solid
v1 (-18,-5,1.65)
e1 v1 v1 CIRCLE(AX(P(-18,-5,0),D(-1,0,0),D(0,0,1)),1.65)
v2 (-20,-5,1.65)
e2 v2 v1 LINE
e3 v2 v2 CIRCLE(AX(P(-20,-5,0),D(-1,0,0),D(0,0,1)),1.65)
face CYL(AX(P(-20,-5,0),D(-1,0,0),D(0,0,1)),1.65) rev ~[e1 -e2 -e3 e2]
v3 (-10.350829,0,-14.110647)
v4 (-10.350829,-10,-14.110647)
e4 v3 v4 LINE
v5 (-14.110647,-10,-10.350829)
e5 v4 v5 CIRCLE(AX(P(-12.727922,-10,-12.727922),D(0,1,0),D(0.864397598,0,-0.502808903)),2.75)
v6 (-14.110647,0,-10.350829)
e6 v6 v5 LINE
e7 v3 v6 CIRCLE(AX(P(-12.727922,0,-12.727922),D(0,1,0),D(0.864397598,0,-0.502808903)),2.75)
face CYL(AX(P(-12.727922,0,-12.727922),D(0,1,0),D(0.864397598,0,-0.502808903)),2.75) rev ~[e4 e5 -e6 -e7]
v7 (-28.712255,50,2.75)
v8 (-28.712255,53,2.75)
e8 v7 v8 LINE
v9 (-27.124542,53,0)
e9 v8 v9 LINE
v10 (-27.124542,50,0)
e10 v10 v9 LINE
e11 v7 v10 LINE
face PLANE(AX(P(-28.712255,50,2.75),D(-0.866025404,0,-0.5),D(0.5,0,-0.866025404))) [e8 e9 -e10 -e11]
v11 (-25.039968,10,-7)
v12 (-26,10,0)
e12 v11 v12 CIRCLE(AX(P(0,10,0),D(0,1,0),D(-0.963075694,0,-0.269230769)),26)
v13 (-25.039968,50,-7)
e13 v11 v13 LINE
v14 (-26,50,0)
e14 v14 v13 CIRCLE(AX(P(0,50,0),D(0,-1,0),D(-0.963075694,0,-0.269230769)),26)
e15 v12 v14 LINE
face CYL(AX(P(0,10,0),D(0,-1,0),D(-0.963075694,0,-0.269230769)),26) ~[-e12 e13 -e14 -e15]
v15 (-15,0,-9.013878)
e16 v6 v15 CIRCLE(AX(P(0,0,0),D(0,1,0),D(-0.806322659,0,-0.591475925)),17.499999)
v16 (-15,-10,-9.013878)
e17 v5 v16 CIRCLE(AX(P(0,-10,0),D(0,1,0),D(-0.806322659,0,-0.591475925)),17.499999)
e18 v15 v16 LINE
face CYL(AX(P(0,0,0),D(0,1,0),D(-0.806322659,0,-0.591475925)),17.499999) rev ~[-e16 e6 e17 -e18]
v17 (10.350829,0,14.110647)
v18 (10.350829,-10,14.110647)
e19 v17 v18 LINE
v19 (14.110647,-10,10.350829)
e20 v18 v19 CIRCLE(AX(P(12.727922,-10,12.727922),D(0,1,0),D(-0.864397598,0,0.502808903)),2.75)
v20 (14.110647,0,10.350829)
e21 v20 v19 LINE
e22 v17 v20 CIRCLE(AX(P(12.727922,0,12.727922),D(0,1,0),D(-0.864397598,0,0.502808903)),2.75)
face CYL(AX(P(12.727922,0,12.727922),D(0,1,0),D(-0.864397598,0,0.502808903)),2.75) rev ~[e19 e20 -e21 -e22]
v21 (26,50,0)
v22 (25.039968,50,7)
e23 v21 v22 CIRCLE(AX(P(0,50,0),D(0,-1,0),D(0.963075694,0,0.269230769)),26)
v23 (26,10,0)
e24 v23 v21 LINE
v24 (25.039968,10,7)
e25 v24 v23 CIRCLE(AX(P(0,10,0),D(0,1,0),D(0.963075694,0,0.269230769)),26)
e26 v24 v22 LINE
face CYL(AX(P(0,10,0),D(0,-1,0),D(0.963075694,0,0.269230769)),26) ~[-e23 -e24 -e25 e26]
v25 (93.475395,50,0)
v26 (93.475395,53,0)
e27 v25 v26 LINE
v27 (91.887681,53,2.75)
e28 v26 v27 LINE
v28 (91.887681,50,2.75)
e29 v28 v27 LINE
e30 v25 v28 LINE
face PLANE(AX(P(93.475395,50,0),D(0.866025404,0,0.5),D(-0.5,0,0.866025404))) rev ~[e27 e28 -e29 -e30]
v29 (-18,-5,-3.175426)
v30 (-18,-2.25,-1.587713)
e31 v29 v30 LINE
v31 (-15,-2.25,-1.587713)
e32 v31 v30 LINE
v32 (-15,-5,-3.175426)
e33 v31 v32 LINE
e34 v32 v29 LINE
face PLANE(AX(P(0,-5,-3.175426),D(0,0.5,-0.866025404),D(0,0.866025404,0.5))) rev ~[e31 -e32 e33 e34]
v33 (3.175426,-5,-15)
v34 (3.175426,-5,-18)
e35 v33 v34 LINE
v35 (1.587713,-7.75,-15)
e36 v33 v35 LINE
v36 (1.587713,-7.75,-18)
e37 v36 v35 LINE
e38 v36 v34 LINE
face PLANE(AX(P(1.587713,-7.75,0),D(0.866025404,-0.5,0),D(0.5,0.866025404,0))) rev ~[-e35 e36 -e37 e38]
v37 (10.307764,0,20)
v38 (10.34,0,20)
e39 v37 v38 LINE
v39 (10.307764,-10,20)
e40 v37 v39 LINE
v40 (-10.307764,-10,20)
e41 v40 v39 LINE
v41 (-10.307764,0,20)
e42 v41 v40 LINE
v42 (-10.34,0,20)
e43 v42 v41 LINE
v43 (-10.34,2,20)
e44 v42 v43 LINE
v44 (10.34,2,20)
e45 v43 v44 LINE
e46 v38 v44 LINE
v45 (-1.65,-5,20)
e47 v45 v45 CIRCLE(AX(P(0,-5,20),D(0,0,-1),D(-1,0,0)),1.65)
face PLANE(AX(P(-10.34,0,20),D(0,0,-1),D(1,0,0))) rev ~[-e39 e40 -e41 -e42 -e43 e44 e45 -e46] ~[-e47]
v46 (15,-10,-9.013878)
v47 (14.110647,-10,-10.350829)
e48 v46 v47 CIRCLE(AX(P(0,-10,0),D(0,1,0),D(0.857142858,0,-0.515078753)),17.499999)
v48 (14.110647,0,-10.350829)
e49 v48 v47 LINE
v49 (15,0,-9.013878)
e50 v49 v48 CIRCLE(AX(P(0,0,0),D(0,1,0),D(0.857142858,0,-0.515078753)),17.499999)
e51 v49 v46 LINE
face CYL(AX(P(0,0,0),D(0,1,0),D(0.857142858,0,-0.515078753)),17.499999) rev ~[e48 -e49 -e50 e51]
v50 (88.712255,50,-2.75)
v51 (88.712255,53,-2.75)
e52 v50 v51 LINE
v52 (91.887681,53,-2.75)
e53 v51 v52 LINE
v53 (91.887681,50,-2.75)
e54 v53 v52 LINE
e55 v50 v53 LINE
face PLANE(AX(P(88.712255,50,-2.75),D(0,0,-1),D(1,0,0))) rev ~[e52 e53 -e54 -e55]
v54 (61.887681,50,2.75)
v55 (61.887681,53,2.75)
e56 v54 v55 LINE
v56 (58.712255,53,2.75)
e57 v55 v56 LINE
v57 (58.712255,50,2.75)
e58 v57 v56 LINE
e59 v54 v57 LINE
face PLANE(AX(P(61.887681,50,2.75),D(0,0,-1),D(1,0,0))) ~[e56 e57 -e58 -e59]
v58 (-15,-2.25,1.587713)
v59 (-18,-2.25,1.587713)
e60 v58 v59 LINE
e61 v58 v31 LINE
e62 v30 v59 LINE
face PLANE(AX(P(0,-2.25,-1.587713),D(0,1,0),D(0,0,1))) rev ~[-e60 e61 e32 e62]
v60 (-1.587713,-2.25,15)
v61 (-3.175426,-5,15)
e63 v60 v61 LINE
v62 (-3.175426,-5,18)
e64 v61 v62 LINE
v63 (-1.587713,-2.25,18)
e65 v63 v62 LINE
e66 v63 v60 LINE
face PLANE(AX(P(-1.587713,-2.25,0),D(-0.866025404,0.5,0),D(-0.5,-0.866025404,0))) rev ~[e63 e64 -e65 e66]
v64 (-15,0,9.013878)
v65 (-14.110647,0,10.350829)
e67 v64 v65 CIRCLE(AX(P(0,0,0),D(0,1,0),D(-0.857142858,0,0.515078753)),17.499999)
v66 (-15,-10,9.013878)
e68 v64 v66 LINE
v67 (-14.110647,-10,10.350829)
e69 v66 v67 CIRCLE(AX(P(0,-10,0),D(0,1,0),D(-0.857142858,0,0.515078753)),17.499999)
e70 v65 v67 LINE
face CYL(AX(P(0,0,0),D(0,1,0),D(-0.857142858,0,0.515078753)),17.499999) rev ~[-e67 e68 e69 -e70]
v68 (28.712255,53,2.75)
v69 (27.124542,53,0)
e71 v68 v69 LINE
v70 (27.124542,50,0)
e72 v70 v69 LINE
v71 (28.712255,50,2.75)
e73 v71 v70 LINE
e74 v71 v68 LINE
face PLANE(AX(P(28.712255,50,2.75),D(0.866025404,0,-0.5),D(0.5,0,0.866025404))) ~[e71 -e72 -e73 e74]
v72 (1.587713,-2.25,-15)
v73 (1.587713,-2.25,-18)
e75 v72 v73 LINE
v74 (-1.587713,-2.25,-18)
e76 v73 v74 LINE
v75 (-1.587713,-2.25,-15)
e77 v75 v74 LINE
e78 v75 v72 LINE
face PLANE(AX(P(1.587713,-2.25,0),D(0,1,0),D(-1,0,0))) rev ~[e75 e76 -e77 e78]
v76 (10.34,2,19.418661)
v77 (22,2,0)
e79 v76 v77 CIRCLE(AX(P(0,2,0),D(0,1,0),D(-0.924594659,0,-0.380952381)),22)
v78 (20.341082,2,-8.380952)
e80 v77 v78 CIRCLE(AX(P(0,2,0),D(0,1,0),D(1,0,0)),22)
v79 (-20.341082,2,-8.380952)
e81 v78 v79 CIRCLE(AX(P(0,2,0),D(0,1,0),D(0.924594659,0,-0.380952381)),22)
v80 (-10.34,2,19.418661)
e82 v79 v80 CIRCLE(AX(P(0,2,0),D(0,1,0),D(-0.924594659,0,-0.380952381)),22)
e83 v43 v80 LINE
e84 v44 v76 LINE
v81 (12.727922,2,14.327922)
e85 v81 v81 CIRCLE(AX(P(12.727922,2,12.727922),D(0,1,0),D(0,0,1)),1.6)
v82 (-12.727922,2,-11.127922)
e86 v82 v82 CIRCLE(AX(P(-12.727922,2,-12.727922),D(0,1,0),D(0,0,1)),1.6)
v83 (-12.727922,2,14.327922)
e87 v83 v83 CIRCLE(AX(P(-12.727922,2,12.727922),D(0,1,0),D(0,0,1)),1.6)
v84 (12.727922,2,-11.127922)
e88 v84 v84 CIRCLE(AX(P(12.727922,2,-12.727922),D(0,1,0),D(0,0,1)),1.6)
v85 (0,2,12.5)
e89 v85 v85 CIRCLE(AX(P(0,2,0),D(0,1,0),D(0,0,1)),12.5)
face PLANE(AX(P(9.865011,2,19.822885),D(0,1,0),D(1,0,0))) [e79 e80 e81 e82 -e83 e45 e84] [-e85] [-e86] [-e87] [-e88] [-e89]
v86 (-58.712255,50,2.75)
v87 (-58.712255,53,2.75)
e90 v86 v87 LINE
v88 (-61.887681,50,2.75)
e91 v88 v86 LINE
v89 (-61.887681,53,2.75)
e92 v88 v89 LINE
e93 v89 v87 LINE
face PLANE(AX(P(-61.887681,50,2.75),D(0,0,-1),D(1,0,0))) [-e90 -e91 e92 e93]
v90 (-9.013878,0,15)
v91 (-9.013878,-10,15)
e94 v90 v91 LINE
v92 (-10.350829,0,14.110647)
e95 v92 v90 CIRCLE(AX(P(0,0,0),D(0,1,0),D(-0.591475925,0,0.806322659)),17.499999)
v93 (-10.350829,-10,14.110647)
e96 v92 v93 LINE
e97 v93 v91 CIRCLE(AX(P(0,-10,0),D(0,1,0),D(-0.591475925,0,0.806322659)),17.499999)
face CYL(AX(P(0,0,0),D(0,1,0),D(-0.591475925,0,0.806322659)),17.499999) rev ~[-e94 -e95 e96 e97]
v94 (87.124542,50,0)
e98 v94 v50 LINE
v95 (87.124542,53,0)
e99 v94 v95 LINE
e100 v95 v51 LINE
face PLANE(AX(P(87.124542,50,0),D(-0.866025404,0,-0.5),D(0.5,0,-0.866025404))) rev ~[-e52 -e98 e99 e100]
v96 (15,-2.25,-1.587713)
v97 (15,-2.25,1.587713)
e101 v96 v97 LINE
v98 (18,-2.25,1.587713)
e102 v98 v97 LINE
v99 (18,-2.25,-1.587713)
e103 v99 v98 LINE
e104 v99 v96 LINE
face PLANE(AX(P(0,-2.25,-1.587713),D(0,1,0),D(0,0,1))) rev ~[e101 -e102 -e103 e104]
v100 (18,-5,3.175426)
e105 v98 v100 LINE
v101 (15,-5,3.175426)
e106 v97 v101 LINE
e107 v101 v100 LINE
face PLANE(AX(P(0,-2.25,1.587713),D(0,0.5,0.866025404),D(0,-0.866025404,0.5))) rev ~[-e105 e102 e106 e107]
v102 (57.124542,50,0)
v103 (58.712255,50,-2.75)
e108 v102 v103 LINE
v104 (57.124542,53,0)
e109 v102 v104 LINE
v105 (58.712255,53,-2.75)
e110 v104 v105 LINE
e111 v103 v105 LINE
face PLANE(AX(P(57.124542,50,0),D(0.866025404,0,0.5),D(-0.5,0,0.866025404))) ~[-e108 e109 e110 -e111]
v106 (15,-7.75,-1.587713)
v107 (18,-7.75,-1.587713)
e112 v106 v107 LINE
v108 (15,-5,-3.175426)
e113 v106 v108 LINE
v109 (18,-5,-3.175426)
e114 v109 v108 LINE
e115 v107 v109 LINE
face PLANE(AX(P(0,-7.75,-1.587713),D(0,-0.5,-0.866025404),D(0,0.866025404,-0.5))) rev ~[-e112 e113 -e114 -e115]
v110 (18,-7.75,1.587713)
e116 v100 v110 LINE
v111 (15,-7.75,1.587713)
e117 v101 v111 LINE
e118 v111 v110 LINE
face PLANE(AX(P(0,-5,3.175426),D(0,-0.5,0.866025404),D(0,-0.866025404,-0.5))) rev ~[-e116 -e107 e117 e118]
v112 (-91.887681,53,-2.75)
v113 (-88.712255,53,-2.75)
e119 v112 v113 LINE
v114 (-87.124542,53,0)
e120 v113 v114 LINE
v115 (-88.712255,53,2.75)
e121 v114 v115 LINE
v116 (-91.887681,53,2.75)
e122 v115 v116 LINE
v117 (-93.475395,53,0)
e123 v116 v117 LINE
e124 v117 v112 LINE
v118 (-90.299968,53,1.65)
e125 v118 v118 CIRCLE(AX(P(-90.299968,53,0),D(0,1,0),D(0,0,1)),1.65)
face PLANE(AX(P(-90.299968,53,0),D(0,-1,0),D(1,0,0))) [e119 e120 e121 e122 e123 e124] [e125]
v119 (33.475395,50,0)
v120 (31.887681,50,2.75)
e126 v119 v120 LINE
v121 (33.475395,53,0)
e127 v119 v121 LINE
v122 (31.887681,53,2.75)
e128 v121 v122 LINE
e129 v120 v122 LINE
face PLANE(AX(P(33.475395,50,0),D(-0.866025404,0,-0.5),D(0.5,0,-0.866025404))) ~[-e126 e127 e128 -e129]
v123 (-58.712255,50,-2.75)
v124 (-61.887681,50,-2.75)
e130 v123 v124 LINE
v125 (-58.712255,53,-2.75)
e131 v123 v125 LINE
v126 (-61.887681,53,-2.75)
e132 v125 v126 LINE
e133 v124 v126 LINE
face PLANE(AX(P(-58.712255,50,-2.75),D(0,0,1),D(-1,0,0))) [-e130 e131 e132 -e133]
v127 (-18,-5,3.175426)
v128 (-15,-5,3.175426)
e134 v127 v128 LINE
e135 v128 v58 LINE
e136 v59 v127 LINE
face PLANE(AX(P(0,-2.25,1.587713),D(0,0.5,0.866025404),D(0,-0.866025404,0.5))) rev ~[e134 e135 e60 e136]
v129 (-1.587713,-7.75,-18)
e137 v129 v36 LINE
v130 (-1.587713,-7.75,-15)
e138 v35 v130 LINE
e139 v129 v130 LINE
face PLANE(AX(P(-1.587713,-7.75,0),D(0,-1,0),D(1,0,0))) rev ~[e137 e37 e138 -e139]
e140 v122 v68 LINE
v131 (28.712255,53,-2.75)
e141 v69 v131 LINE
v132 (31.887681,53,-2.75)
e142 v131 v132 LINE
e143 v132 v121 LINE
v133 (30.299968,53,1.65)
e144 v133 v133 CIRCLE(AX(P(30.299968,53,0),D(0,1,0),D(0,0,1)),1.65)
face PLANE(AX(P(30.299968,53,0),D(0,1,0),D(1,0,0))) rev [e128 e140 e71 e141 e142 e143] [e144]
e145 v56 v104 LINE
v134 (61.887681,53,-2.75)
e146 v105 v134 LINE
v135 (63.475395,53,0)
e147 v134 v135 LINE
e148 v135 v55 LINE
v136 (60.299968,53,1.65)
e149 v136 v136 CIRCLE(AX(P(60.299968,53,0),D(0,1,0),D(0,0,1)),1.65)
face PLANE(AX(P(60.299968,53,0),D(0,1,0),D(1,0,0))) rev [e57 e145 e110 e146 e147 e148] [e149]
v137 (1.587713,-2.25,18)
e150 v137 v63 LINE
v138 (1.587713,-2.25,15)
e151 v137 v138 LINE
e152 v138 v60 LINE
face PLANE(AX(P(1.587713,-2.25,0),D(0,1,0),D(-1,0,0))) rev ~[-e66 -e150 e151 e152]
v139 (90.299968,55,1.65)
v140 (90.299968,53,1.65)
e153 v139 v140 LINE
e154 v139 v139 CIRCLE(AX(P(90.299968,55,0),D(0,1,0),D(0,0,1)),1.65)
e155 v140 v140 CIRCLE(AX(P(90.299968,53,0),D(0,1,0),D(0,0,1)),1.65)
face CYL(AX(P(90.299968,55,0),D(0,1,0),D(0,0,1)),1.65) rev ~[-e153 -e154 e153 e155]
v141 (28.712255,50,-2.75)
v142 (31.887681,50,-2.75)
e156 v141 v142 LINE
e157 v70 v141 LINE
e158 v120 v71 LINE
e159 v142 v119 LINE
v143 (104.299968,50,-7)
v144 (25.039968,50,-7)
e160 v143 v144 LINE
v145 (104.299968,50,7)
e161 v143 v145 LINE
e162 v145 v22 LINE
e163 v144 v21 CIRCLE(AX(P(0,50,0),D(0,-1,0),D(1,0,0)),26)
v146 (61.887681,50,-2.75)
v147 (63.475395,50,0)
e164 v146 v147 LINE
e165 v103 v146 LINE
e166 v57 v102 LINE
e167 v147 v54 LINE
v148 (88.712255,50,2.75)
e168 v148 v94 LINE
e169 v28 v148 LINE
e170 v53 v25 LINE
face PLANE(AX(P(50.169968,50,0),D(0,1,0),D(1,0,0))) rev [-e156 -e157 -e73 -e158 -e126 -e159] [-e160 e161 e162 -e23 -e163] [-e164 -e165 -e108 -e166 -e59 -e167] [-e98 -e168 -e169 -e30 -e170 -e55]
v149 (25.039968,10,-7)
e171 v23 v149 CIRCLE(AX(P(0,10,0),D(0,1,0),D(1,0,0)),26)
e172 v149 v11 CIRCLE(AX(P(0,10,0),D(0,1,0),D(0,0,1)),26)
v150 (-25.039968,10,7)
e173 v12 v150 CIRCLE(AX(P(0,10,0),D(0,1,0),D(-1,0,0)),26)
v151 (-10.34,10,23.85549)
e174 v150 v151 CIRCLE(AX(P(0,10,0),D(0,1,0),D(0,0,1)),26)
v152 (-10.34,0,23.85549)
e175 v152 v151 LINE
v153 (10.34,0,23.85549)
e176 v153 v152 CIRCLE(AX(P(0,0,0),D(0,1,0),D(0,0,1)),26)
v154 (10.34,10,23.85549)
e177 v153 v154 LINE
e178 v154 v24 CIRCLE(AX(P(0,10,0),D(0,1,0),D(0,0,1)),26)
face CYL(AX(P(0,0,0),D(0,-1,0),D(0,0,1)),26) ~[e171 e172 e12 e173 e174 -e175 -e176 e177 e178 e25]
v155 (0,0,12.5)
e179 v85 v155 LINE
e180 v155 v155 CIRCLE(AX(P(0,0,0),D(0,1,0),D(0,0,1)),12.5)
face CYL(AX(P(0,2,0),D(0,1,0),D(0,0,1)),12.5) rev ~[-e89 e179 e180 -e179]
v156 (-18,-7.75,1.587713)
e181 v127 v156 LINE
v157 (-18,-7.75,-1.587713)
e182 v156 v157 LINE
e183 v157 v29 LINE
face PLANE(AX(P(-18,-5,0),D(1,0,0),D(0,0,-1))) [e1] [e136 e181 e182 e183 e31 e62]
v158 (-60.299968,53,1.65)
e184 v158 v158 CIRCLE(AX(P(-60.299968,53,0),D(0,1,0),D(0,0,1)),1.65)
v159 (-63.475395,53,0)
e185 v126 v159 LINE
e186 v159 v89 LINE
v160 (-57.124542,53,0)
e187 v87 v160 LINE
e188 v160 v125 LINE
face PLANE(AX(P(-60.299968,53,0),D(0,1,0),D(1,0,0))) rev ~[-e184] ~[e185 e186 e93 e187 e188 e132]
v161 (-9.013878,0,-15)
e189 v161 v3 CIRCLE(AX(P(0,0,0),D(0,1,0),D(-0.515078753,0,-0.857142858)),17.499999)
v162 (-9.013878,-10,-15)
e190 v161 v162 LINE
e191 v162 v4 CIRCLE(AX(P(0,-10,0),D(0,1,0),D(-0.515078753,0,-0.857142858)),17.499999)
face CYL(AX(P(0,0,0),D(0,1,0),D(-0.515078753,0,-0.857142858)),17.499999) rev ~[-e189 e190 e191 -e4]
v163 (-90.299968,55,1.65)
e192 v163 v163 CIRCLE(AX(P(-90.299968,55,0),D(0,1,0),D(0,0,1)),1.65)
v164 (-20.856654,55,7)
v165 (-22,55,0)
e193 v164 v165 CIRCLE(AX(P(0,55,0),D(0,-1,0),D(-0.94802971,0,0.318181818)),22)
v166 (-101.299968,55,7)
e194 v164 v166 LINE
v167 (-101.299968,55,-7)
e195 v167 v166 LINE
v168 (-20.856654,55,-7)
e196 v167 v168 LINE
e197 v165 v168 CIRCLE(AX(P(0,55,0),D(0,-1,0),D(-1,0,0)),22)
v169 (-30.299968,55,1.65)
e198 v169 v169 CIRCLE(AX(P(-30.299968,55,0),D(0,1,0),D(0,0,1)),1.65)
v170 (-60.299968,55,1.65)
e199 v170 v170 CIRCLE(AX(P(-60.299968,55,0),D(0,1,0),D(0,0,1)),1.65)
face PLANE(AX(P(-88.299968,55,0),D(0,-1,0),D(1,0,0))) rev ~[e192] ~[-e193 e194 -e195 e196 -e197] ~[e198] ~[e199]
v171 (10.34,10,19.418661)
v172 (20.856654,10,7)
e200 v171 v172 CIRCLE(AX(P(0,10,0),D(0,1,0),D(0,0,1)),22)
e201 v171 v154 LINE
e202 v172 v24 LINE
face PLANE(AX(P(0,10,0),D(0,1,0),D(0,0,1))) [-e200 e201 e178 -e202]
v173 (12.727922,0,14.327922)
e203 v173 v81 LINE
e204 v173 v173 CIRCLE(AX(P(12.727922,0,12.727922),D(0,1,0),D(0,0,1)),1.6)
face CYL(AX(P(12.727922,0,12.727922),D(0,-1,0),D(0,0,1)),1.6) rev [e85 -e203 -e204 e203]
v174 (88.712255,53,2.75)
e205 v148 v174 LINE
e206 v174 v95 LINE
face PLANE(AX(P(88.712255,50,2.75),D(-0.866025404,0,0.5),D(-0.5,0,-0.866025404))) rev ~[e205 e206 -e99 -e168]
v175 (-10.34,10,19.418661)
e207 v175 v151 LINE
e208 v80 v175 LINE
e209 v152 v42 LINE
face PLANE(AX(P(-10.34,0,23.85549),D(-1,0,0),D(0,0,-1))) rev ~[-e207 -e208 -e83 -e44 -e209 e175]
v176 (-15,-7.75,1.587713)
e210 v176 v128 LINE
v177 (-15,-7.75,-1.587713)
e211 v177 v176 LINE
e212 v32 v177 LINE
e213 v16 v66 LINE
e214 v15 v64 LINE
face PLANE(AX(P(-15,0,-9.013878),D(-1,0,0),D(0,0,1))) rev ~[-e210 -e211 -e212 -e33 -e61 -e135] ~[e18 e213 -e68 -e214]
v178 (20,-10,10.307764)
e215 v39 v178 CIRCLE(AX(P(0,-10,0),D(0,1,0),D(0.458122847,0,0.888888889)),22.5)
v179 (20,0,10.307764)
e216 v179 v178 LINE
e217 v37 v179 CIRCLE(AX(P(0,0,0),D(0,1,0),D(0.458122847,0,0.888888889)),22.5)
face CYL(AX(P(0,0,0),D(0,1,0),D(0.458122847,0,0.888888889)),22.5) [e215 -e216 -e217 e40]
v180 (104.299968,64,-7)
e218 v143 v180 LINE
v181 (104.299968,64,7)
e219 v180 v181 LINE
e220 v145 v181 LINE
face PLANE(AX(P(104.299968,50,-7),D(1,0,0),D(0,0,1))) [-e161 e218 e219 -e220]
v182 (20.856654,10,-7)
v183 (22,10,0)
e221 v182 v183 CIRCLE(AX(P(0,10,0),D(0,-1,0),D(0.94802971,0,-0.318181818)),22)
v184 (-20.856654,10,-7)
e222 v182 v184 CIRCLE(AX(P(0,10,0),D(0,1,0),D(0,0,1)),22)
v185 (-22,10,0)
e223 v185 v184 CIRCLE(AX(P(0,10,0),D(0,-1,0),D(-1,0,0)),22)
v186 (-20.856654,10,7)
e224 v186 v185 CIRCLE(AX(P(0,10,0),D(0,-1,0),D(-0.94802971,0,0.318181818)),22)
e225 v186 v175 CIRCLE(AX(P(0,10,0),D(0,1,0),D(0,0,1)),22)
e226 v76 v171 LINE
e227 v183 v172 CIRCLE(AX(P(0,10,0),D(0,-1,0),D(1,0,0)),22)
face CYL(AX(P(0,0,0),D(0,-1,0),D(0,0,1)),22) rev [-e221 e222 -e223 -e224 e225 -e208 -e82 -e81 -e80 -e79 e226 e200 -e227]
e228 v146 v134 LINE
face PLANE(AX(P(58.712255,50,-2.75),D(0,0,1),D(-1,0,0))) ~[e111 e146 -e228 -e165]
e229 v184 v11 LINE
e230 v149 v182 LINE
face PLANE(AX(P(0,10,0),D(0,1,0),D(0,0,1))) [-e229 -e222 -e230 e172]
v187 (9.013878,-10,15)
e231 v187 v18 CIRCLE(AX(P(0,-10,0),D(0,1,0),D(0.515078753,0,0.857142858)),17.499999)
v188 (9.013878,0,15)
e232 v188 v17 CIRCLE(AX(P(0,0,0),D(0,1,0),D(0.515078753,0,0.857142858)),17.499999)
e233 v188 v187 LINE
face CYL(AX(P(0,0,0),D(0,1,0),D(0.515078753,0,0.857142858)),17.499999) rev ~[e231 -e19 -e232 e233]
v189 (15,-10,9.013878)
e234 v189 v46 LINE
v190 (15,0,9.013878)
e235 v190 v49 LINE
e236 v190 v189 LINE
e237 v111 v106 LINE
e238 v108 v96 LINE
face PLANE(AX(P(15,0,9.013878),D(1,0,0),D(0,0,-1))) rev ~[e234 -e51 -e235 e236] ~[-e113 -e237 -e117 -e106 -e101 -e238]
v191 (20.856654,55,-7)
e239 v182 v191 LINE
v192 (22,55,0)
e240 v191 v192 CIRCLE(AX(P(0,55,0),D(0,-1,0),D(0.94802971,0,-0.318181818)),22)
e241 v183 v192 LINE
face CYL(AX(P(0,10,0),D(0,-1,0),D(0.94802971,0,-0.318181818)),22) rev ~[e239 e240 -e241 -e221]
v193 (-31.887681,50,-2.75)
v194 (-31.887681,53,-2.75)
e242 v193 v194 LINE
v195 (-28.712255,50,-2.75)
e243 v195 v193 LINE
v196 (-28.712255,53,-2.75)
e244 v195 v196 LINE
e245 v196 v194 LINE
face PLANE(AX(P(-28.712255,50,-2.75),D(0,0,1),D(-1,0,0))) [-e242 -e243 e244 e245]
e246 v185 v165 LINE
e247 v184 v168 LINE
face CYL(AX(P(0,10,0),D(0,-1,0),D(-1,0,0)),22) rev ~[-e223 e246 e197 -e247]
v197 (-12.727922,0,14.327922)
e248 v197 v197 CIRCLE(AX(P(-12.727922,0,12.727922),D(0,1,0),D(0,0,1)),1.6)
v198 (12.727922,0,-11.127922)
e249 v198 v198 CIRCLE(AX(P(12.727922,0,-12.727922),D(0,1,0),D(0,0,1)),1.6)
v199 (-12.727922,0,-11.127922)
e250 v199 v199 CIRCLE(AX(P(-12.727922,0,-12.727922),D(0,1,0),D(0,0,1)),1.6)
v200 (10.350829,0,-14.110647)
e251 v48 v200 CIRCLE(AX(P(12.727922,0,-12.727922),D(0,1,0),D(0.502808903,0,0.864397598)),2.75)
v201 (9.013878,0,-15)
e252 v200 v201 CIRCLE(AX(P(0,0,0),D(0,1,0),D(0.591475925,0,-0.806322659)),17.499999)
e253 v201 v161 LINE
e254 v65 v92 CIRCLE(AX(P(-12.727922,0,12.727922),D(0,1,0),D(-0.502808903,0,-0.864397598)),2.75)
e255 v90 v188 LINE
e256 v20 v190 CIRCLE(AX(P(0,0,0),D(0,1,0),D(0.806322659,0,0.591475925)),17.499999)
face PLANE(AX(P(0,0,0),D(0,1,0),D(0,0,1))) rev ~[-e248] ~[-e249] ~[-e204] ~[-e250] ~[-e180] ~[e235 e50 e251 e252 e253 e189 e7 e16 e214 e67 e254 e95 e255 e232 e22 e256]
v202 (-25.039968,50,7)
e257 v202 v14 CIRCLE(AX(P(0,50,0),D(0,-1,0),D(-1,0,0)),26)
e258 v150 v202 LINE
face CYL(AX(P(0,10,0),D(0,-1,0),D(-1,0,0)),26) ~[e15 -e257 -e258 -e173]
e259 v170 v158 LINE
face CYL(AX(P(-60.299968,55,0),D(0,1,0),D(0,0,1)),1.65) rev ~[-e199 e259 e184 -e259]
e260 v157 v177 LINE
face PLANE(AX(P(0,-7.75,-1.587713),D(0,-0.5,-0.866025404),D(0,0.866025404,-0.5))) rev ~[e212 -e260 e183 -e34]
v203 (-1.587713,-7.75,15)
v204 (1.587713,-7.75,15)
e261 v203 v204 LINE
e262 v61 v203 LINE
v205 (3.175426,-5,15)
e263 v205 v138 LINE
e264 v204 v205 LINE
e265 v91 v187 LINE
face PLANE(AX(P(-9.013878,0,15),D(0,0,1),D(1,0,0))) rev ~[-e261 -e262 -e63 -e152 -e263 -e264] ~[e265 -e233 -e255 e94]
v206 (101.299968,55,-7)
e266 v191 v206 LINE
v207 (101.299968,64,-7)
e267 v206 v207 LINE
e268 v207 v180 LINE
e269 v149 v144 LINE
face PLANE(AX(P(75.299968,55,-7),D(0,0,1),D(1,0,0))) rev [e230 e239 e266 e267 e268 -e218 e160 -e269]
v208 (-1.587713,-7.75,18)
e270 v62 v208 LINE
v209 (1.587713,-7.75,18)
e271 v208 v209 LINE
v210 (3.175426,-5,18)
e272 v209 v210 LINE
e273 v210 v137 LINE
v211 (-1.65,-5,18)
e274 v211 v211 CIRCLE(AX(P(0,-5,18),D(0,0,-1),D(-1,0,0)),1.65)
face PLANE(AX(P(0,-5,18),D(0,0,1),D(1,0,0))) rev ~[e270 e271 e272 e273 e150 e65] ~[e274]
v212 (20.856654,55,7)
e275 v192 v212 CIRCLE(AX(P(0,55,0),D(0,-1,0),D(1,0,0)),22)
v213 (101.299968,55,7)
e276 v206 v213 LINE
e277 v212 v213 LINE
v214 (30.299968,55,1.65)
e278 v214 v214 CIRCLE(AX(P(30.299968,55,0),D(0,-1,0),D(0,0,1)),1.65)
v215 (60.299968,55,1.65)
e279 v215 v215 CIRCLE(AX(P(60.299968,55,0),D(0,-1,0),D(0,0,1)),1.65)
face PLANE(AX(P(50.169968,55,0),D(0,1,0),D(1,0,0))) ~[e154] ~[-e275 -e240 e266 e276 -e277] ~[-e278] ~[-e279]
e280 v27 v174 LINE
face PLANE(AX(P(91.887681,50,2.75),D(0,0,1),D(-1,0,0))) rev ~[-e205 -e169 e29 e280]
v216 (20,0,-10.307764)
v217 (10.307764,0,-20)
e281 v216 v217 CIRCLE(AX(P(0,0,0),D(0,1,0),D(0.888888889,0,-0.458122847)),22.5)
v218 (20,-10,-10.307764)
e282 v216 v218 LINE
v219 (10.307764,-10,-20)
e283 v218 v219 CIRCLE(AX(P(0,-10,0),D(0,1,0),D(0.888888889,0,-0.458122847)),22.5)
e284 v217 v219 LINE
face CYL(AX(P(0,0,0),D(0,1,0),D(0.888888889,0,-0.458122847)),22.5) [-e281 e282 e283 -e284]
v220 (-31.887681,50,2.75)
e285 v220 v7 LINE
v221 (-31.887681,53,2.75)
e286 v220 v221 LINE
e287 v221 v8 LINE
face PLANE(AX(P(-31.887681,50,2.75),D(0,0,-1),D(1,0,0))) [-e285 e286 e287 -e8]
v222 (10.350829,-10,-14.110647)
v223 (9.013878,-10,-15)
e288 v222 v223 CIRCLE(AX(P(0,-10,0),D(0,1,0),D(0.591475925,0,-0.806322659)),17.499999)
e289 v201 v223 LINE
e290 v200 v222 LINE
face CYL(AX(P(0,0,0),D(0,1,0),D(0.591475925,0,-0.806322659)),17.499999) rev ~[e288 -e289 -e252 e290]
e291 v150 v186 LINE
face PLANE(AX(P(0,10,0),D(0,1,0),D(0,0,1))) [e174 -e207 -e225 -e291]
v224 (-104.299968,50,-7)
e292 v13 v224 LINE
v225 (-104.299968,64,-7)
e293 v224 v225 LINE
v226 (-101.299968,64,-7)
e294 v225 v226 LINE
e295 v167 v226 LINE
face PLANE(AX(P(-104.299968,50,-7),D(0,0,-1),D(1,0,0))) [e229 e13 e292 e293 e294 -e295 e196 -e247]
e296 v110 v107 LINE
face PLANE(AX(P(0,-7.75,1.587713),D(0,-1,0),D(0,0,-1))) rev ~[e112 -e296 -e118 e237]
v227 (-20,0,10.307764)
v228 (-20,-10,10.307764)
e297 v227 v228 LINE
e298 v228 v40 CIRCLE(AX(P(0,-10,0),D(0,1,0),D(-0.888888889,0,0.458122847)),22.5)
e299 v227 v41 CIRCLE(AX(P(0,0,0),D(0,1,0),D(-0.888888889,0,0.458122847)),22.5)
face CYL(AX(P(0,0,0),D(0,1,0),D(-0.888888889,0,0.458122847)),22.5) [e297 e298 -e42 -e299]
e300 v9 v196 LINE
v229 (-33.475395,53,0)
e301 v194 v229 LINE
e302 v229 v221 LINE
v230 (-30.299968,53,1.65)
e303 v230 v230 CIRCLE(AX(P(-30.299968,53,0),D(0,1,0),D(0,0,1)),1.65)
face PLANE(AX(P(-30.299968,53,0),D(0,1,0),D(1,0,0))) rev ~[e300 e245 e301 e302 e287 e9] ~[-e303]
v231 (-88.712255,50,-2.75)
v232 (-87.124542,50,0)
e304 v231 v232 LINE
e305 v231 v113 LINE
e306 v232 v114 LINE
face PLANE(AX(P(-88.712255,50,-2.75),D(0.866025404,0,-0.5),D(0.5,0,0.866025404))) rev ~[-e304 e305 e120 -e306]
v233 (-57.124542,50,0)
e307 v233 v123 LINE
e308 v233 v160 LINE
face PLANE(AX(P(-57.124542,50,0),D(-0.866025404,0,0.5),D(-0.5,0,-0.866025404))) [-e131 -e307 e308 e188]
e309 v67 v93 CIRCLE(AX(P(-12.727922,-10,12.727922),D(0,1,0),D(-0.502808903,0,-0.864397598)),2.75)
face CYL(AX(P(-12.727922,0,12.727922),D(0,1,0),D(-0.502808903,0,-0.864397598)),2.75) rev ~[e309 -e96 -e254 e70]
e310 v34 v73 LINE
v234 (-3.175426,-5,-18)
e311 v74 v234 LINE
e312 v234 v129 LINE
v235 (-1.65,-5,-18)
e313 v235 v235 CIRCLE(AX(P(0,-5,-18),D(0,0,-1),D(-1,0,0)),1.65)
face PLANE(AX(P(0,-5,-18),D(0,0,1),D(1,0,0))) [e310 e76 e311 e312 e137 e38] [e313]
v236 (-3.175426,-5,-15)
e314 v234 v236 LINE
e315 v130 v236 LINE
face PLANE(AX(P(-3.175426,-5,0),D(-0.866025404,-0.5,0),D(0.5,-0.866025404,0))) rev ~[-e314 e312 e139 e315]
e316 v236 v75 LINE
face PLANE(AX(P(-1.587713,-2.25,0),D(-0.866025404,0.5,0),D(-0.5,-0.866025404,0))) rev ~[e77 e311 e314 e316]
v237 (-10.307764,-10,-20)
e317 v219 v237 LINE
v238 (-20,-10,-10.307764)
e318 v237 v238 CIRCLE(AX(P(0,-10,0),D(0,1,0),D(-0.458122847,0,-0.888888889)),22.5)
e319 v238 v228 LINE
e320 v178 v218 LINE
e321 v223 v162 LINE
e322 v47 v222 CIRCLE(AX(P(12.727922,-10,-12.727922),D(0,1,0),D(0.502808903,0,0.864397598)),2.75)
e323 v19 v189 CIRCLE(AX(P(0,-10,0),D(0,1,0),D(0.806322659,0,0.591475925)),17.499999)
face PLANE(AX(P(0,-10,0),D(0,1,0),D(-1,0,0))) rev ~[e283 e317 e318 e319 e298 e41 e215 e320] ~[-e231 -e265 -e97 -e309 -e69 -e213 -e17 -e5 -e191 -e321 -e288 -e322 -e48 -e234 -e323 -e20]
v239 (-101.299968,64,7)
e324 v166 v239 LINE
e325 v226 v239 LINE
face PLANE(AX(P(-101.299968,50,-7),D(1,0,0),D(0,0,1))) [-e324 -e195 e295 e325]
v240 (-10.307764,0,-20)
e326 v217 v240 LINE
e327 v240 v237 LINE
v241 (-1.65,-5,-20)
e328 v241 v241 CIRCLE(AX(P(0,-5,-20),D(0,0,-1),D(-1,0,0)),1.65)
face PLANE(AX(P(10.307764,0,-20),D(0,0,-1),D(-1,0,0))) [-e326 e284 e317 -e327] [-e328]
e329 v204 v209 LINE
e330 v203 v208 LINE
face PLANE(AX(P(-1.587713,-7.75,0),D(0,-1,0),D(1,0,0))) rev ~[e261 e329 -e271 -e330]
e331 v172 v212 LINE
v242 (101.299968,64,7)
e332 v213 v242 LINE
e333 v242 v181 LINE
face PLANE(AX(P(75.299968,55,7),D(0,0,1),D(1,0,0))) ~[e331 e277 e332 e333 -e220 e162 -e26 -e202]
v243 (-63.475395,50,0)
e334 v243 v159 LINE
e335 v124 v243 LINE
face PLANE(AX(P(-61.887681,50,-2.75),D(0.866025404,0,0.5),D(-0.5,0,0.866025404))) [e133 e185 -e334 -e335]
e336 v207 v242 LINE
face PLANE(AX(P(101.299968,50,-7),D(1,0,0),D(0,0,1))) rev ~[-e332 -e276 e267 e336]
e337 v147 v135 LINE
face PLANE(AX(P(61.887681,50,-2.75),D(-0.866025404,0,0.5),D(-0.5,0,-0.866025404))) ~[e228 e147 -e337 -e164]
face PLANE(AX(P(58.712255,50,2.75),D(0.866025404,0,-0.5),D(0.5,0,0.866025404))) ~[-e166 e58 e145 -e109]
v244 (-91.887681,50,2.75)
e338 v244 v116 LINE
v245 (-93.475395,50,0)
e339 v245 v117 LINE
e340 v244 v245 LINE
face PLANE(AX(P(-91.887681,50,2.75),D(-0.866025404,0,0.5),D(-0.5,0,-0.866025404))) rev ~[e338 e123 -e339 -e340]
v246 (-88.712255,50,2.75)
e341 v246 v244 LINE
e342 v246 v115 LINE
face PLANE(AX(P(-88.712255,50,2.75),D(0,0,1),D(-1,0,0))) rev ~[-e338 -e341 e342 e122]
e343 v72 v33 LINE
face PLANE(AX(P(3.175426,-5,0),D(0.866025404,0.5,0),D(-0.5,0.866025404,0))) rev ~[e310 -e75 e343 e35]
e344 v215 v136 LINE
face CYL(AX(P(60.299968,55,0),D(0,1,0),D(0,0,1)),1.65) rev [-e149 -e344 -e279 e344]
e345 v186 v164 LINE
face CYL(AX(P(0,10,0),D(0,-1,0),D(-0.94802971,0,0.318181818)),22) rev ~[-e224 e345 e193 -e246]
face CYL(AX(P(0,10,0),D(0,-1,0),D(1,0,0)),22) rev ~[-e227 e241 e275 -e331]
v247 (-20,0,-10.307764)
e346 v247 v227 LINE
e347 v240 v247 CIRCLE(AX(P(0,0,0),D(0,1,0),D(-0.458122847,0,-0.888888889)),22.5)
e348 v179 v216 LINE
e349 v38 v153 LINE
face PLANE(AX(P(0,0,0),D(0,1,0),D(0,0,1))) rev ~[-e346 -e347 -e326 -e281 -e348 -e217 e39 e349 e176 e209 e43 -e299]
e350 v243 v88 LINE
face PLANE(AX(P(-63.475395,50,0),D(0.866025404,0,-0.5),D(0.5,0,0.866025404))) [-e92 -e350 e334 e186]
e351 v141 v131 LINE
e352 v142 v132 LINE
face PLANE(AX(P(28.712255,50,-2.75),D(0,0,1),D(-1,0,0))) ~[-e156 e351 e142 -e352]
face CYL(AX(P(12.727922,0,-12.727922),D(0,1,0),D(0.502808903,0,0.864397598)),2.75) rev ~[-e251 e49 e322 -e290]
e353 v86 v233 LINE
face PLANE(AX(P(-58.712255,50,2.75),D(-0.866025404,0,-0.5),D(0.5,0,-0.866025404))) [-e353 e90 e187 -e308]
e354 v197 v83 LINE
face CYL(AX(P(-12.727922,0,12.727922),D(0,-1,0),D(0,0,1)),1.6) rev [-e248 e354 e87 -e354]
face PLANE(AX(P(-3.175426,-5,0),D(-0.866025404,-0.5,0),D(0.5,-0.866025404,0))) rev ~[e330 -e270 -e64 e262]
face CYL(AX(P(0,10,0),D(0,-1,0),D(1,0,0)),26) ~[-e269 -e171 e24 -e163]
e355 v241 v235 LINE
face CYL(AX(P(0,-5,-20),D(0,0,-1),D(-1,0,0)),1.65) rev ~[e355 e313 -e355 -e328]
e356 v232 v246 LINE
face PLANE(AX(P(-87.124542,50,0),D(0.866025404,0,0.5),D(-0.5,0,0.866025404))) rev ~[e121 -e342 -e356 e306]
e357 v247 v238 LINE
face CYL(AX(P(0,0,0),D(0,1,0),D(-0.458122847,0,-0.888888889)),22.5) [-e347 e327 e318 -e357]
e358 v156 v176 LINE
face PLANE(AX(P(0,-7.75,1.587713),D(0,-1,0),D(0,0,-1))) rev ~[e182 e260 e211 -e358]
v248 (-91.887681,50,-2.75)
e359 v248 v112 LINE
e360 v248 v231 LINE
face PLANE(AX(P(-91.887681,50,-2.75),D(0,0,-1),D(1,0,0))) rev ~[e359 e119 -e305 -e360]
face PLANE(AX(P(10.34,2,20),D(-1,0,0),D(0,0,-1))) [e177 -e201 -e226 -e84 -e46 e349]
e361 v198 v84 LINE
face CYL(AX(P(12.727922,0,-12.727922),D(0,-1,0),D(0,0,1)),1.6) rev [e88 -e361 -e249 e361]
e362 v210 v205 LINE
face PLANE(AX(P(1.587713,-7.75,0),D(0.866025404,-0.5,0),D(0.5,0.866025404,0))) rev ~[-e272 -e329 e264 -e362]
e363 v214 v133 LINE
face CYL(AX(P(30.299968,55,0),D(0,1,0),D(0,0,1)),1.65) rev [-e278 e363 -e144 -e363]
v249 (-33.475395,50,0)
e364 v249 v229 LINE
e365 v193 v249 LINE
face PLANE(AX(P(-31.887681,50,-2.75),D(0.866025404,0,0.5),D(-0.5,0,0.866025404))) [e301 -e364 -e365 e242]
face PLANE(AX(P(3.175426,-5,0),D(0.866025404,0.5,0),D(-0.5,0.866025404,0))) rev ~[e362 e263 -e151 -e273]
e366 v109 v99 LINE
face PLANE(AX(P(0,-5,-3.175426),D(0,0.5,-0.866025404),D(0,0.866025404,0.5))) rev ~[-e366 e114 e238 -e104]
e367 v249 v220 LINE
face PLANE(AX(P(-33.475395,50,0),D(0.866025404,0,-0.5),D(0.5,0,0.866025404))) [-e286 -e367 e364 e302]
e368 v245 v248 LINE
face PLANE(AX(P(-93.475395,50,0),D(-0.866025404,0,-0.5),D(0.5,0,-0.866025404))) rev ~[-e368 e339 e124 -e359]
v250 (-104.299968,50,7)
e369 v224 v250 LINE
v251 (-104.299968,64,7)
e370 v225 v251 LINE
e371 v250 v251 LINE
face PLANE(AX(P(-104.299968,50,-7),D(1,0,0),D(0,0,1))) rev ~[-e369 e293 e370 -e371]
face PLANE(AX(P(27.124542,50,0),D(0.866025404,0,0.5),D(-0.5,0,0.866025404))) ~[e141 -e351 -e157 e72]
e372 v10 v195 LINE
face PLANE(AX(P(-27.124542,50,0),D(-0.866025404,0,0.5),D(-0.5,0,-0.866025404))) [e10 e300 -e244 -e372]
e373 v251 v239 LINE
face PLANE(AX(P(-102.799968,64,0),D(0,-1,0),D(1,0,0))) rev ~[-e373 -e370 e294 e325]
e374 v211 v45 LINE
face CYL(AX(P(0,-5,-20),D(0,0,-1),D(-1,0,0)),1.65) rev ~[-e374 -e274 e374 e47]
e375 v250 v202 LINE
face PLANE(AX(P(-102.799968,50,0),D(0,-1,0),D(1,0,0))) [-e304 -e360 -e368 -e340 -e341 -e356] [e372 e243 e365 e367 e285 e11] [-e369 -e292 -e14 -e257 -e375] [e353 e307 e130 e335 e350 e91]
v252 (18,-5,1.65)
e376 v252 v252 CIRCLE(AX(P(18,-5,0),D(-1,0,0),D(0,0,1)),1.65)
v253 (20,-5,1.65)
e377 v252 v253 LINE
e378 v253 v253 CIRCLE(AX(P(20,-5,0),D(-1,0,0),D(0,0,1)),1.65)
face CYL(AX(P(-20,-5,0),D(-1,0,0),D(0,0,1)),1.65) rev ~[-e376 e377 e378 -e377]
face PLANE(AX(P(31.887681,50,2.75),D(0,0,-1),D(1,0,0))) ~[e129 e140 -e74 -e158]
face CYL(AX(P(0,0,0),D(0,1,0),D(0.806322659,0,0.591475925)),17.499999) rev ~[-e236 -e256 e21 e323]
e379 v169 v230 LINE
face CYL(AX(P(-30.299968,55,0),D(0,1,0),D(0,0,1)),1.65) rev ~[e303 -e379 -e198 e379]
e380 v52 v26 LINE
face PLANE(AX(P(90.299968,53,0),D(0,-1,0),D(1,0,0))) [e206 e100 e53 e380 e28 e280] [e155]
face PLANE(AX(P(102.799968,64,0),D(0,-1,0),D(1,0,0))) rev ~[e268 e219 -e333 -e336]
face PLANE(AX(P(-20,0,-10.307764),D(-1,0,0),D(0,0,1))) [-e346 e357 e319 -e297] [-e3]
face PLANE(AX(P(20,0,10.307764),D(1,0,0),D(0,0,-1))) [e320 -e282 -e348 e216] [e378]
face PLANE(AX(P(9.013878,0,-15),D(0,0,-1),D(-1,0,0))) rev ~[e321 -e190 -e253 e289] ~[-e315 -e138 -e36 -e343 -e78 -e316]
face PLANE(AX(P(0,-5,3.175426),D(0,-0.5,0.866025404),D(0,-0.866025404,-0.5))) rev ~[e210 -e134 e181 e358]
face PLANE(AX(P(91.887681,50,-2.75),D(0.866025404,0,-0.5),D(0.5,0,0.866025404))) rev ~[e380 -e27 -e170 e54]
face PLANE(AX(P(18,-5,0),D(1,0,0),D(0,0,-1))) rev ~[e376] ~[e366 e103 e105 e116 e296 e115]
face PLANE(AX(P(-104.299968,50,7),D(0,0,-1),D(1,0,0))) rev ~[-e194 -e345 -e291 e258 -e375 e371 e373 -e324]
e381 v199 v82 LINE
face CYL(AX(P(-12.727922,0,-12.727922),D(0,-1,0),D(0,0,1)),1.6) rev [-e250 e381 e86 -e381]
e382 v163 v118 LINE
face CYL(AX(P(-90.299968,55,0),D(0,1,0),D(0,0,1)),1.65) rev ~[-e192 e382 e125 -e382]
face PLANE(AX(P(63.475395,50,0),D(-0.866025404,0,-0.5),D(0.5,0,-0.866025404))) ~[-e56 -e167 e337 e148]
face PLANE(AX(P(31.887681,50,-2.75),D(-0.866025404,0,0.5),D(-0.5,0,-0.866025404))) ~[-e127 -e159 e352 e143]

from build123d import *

# Parameters (mm, degrees)
SKETCH_1_R           = 1.6
EXTRUDE_1_DEPTH      = 2
SKETCH_2_R           = 12.5
CUT_EXTRUDE_1_DEPTH  = 3
SKETCH_5_R           = 26
SKETCH_5_R_2         = 22
EXTRUDE_3_DEPTH      = 10
EXTRUDE_5_DEPTH      = 10
SKETCH_15_R          = 1.65
CUT_EXTRUDE_2_DEPTH  = 42
SKETCH_16_R          = 1.65
CUT_EXTRUDE_3_DEPTH  = 42
CUT_EXTRUDE_4_DEPTH  = 18
CUT_EXTRUDE_5_DEPTH  = 18
EXTRUDE_6_DEPTH      = 45
SKETCH_24_W          = 50.26
SKETCH_24_H          = 14
EXTRUDE_7_DEPTH      = 5
SKETCH_25_R          = 1.65
CUT_EXTRUDE_6_DEPTH  = 5
CUT_EXTRUDE_7_DEPTH  = 3
CUT_EXTRUDE_9_DEPTH  = 10
CUT_EXTRUDE_START    = -8
CUT_EXTRUDE_10_DEPTH = 8
SKETCH_34_W          = 26
SKETCH_34_H          = 14
EXTRUDE_9_DEPTH      = 5
SKETCH_35_R          = 1.65
CUT_EXTRUDE_11_DEPTH = 5
CUT_EXTRUDE_12_DEPTH = 3
SKETCH_37_W          = 3
SKETCH_37_H          = 14
EXTRUDE_10_DEPTH     = 14


with BuildPart() as part:
    # 草图1 → 凸台-拉伸1 (new body)
    with BuildSketch(Plane(origin=(0, 0, 0), x_dir=(1, 0, 0), z_dir=(0, 1, 0))):
        with BuildLine():
            ThreePointArc((20.341082498, 8.380952381), (0, 22), (-20.341082498, 8.380952381))
            ThreePointArc((-20.341082498, 8.380952381), (-4.271778613, -21.581286048), (22, 0))
            ThreePointArc((22, 0), (21.581286048, 4.271778613), (20.341082498, 8.380952381))
        make_face()
        with Locations(Location((-12.727922061, -12.727922061, 0), (0, 0, 270))):
            Circle(SKETCH_1_R, mode=Mode.SUBTRACT)
        with Locations(Location((12.727922061, -12.727922061, 0), (0, 0, 270))):
            Circle(SKETCH_1_R, mode=Mode.SUBTRACT)
        with Locations(Location((-12.727922061, 12.727922061, 0), (0, 0, 270))):
            Circle(SKETCH_1_R, mode=Mode.SUBTRACT)
        with Locations(Location((12.727922061, 12.727922061, 0), (0, 0, 270))):
            Circle(SKETCH_1_R, mode=Mode.SUBTRACT)
    extrude(amount=EXTRUDE_1_DEPTH)

    # 草图2 → 切除-拉伸1 (cut)
    with BuildSketch(Plane(origin=(0, 2, 0), x_dir=(1, 0, 0), z_dir=(0, 1, 0))):
        with Locations(Location((0, 0, 0), (0, 0, 270))):
            Circle(SKETCH_2_R)
    extrude(amount=-CUT_EXTRUDE_1_DEPTH, mode=Mode.SUBTRACT)

    # 草图5 → 凸台-拉伸3 (add)
    with BuildSketch(Plane(origin=(0, 0, 0), x_dir=(1, 0, 0), z_dir=(0, 1, 0))):
        with Locations(Location((0, 0, 0), (0, 0, 270))):
            Circle(SKETCH_5_R)
        with Locations(Location((0, 0, 0), (0, 0, 270))):
            Circle(SKETCH_5_R_2, mode=Mode.SUBTRACT)
    extrude(amount=EXTRUDE_3_DEPTH)

    # 草图14 → 凸台-拉伸5 (add)
    with BuildSketch(Plane.XZ):
        with BuildLine():
            Line((-10.307764064, 20), (10.307764064, 20))
            ThreePointArc((10.307764064, 20), (15.909902577, 15.909902577), (20, 10.307764064))
            Line((20, 10.307764064), (20, -10.307764064))
            ThreePointArc((20, -10.307764064), (15.909902577, -15.909902577), (10.307764064, -20))
            Line((10.307764064, -20), (-10.307764064, -20))
            ThreePointArc((-10.307764064, -20), (-15.909902577, -15.909902577), (-20, -10.307764064))
            Line((-20, -10.307764064), (-20, 10.307764064))
            ThreePointArc((-20, 10.307764064), (-15.909902577, 15.909902577), (-10.307764064, 20))
        make_face()
        with BuildLine():
            Line((-9.013878189, 15), (9.013878189, 15))
            ThreePointArc((9.013878189, 15), (9.692559275, 14.570665555), (10.350828667, 14.110646544))
            ThreePointArc((10.350828667, 14.110646544), (14.67246571, 14.67246571), (14.110646544, 10.350828667))
            ThreePointArc((14.110646544, 10.350828667), (14.570665555, 9.692559275), (15, 9.013878189))
            Line((15, 9.013878189), (15, -9.013878189))
            ThreePointArc((15, -9.013878189), (14.570665555, -9.692559275), (14.110646544, -10.350828667))
            ThreePointArc((14.110646544, -10.350828667), (14.67246571, -14.67246571), (10.350828667, -14.110646544))
            ThreePointArc((10.350828667, -14.110646544), (9.692559275, -14.570665555), (9.013878189, -15))
            Line((9.013878189, -15), (-9.013878189, -15))
            ThreePointArc((-9.013878189, -15), (-9.692559275, -14.570665555), (-10.350828667, -14.110646544))
            ThreePointArc((-10.350828667, -14.110646544), (-14.67246571, -14.67246571), (-14.110646544, -10.350828667))
            ThreePointArc((-14.110646544, -10.350828667), (-14.570665555, -9.692559275), (-15, -9.013878189))
            Line((-15, -9.013878189), (-15, 9.013878189))
            ThreePointArc((-15, 9.013878189), (-14.570665555, 9.692559275), (-14.110646544, 10.350828667))
            ThreePointArc((-14.110646544, 10.350828667), (-14.67246571, 14.67246571), (-10.350828667, 14.110646544))
            ThreePointArc((-10.350828667, 14.110646544), (-9.692559275, 14.570665555), (-9.013878189, 15))
        make_face(mode=Mode.SUBTRACT)
    extrude(amount=EXTRUDE_5_DEPTH)

    # 草图15 → 切除-拉伸2 (cut)
    with BuildSketch(Plane.ZY.offset(20)):
        with Locations((0, -5)):
            Circle(SKETCH_15_R)
    extrude(amount=-CUT_EXTRUDE_2_DEPTH, mode=Mode.SUBTRACT)

    # 草图16 → 切除-拉伸3 (cut)
    with BuildSketch(Plane(origin=(0, 0, -20), x_dir=(-1, 0, 0), z_dir=(0, 0, -1))):
        with Locations((0, -5)):
            Circle(SKETCH_16_R)
    extrude(amount=-CUT_EXTRUDE_3_DEPTH, mode=Mode.SUBTRACT)

    # 草图18 → 切除-拉伸4 (cut, symmetric)
    with BuildSketch(Plane.XY):
        Polygon((-1.58771324, -2.25), (-3.175426481, -5), (-1.58771324, -7.75), (1.58771324, -7.75), (3.175426481, -5), (1.58771324, -2.25), align=None)
    extrude(amount=CUT_EXTRUDE_4_DEPTH, both=True, mode=Mode.SUBTRACT)

    # 草图19 → 切除-拉伸5 (cut, symmetric)
    with BuildSketch(Plane(origin=(0, 0, 0), x_dir=(0, 0, -1), z_dir=(1, 0, 0))):
        Polygon((-1.58771324, -2.25), (-3.175426481, -5), (-1.58771324, -7.75), (1.58771324, -7.75), (3.175426481, -5), (1.58771324, -2.25), align=None)
    extrude(amount=CUT_EXTRUDE_5_DEPTH, both=True, mode=Mode.SUBTRACT)

    # 草图23 → 凸台-拉伸6 (add)
    with BuildSketch(Plane(origin=(0, 10, 0), x_dir=(1, 0, 0), z_dir=(0, 1, 0))):
        with BuildLine():
            ThreePointArc((-22, 0), (-21.712282003, 3.546379878), (-20.856653615, 7))
            Line((-20.856653615, 7), (-25.039968051, 7))
            ThreePointArc((-25.039968051, 7), (-25.758873901, 3.53276313), (-26, 0))
            Line((-26, 0), (-22, 0))
        make_face()
        with BuildLine():
            ThreePointArc((-20.856653615, -7), (-21.712282003, -3.546379878), (-22, 0))
            Line((-22, 0), (-26, 0))
            ThreePointArc((-26, 0), (-25.758873901, -3.53276313), (-25.039968051, -7))
            Line((-25.039968051, -7), (-20.856653615, -7))
        make_face()
        with BuildLine():
            Line((25.039968051, 7), (20.856653615, 7))
            ThreePointArc((20.856653615, 7), (21.712282003, 3.546379878), (22, 0))
            Line((22, 0), (26, 0))
            ThreePointArc((26, 0), (25.758873901, 3.53276313), (25.039968051, 7))
        make_face()
        with BuildLine():
            Line((26, 0), (22, 0))
            ThreePointArc((22, 0), (21.712282003, -3.546379878), (20.856653615, -7))
            Line((20.856653615, -7), (25.039968051, -7))
            ThreePointArc((25.039968051, -7), (25.758873901, -3.53276313), (26, 0))
        make_face()
    extrude(amount=EXTRUDE_6_DEPTH)

    # 草图24 → 凸台-拉伸7 (add)
    with BuildSketch(Plane(origin=(0, 55, 0), x_dir=(1, 0, 0), z_dir=(0, 1, 0))):
        with Locations((-50.169968051, 0)):
            Rectangle(SKETCH_24_W, SKETCH_24_H)
    extrude_7 = extrude(amount=-EXTRUDE_7_DEPTH)

    # 镜向1: 凸台-拉伸7 across plane
    add(extrude_7.mirror(Plane(origin=(0, 0, 0), x_dir=(0, 0, 1), z_dir=(1, 0, 0))))

    # 草图25 → 切除-拉伸6 (cut)
    with BuildSketch(Plane(origin=(0, 55, 0), x_dir=(1, 0, 0), z_dir=(0, 1, 0))):
        with Locations(Location((-60.299968051, 0, 0), (0, 0, 270))):
            Circle(SKETCH_25_R)
        with Locations(Location((-30.299968051, 0, 0), (0, 0, 270))):
            Circle(SKETCH_25_R)
    cut_extrude_6 = extrude(amount=-CUT_EXTRUDE_6_DEPTH, mode=Mode.SUBTRACT)

    # 草图26 → 切除-拉伸7 (cut)
    with BuildSketch(Plane(origin=(0, 50, 0), x_dir=(1, 0, 0), z_dir=(0, 1, 0))):
        Polygon((-58.712254811, 2.75), (-61.887681291, 2.75), (-63.475394532, 0), (-61.887681291, -2.75), (-58.712254811, -2.75), (-57.124541571, 0), align=None)
        Polygon((-31.887681291, 2.75), (-33.475394532, 0), (-31.887681291, -2.75), (-28.712254811, -2.75), (-27.124541571, 0), (-28.712254811, 2.75), align=None)
    cut_extrude_7 = extrude(amount=CUT_EXTRUDE_7_DEPTH, mode=Mode.SUBTRACT)

    # 镜向3: 切除-拉伸6, 切除-拉伸7 across plane
    add(cut_extrude_6.mirror(Plane(origin=(0, 0, 0), x_dir=(0, 0, 1), z_dir=(1, 0, 0))), mode=Mode.SUBTRACT)
    add(cut_extrude_7.mirror(Plane(origin=(0, 0, 0), x_dir=(0, 0, 1), z_dir=(1, 0, 0))), mode=Mode.SUBTRACT)

    # 草图28 → 切除-拉伸9 (cut)
    with BuildSketch(Plane.XZ):
        with BuildLine():
            Line((-10.34, 20), (10.34, 20))
            Line((10.34, 20), (10.34, 23.855489934))
            ThreePointArc((10.34, 23.855489934), (0, 26), (-10.34, 23.855489934))
            Line((-10.34, 23.855489934), (-10.34, 20))
        make_face()
    extrude(amount=-CUT_EXTRUDE_9_DEPTH, mode=Mode.SUBTRACT)

    # 草图29 → 切除-拉伸10 (cut)
    with BuildSketch(Plane(origin=(0, 10, 0), x_dir=(1, 0, 0), z_dir=(0, 1, 0)).offset(CUT_EXTRUDE_START)):
        with BuildLine():
            Line((-10.34, -20), (-10.34, -19.418661128))
            ThreePointArc((-10.34, -19.418661128), (-9.756906344, -19.718082528), (-9.16515139, -20))
            Line((-9.16515139, -20), (-10.34, -20))
        make_face()
        with BuildLine():
            Line((10.34, -20), (10.34, -19.418661128))
            ThreePointArc((10.34, -19.418661128), (9.756906344, -19.718082528), (9.16515139, -20))
            Line((9.16515139, -20), (10.34, -20))
        make_face()
    extrude(amount=CUT_EXTRUDE_10_DEPTH, mode=Mode.SUBTRACT)

    # 草图34 → 凸台-拉伸9 (add)
    with BuildSketch(Plane.XZ.offset(-50)):
        with Locations((-88.299968051, 0)):
            Rectangle(SKETCH_34_W, SKETCH_34_H)
        with Locations((88.299968051, 0)):
            Rectangle(SKETCH_34_W, SKETCH_34_H)
    extrude(amount=-EXTRUDE_9_DEPTH)

    # 草图35 → 切除-拉伸11 (cut)
    with BuildSketch(Plane(origin=(0, 55, 0), x_dir=(1, 0, 0), z_dir=(0, 1, 0))):
        with Locations(Location((-90.299968051, 0, 0), (0, 0, 270))):
            Circle(SKETCH_35_R)
        with Locations(Location((90.299968051, 0, 0), (0, 0, 270))):
            Circle(SKETCH_35_R)
    extrude(amount=-CUT_EXTRUDE_11_DEPTH, mode=Mode.SUBTRACT)

    # 草图36 → 切除-拉伸12 (cut)
    with BuildSketch(Plane.XZ.offset(-50)):
        Polygon((-91.887681291, 2.75), (-93.475394532, 0), (-91.887681291, -2.75), (-88.712254811, -2.75), (-87.124541571, 0), (-88.712254811, 2.75), align=None)
        Polygon((91.887681291, 2.75), (88.712254811, 2.75), (87.124541571, 0), (88.712254811, -2.75), (91.887681291, -2.75), (93.475394532, 0), align=None)
    extrude(amount=-CUT_EXTRUDE_12_DEPTH, mode=Mode.SUBTRACT)

    # 草图37 → 凸台-拉伸10 (add)
    with BuildSketch(Plane.XZ.offset(-50)):
        with Locations((-102.799968051, 0)):
            Rectangle(SKETCH_37_W, SKETCH_37_H)
        with Locations((102.799968051, 0)):
            Rectangle(SKETCH_37_W, SKETCH_37_H)
    extrude(amount=-EXTRUDE_10_DEPTH)


solid = part.part
